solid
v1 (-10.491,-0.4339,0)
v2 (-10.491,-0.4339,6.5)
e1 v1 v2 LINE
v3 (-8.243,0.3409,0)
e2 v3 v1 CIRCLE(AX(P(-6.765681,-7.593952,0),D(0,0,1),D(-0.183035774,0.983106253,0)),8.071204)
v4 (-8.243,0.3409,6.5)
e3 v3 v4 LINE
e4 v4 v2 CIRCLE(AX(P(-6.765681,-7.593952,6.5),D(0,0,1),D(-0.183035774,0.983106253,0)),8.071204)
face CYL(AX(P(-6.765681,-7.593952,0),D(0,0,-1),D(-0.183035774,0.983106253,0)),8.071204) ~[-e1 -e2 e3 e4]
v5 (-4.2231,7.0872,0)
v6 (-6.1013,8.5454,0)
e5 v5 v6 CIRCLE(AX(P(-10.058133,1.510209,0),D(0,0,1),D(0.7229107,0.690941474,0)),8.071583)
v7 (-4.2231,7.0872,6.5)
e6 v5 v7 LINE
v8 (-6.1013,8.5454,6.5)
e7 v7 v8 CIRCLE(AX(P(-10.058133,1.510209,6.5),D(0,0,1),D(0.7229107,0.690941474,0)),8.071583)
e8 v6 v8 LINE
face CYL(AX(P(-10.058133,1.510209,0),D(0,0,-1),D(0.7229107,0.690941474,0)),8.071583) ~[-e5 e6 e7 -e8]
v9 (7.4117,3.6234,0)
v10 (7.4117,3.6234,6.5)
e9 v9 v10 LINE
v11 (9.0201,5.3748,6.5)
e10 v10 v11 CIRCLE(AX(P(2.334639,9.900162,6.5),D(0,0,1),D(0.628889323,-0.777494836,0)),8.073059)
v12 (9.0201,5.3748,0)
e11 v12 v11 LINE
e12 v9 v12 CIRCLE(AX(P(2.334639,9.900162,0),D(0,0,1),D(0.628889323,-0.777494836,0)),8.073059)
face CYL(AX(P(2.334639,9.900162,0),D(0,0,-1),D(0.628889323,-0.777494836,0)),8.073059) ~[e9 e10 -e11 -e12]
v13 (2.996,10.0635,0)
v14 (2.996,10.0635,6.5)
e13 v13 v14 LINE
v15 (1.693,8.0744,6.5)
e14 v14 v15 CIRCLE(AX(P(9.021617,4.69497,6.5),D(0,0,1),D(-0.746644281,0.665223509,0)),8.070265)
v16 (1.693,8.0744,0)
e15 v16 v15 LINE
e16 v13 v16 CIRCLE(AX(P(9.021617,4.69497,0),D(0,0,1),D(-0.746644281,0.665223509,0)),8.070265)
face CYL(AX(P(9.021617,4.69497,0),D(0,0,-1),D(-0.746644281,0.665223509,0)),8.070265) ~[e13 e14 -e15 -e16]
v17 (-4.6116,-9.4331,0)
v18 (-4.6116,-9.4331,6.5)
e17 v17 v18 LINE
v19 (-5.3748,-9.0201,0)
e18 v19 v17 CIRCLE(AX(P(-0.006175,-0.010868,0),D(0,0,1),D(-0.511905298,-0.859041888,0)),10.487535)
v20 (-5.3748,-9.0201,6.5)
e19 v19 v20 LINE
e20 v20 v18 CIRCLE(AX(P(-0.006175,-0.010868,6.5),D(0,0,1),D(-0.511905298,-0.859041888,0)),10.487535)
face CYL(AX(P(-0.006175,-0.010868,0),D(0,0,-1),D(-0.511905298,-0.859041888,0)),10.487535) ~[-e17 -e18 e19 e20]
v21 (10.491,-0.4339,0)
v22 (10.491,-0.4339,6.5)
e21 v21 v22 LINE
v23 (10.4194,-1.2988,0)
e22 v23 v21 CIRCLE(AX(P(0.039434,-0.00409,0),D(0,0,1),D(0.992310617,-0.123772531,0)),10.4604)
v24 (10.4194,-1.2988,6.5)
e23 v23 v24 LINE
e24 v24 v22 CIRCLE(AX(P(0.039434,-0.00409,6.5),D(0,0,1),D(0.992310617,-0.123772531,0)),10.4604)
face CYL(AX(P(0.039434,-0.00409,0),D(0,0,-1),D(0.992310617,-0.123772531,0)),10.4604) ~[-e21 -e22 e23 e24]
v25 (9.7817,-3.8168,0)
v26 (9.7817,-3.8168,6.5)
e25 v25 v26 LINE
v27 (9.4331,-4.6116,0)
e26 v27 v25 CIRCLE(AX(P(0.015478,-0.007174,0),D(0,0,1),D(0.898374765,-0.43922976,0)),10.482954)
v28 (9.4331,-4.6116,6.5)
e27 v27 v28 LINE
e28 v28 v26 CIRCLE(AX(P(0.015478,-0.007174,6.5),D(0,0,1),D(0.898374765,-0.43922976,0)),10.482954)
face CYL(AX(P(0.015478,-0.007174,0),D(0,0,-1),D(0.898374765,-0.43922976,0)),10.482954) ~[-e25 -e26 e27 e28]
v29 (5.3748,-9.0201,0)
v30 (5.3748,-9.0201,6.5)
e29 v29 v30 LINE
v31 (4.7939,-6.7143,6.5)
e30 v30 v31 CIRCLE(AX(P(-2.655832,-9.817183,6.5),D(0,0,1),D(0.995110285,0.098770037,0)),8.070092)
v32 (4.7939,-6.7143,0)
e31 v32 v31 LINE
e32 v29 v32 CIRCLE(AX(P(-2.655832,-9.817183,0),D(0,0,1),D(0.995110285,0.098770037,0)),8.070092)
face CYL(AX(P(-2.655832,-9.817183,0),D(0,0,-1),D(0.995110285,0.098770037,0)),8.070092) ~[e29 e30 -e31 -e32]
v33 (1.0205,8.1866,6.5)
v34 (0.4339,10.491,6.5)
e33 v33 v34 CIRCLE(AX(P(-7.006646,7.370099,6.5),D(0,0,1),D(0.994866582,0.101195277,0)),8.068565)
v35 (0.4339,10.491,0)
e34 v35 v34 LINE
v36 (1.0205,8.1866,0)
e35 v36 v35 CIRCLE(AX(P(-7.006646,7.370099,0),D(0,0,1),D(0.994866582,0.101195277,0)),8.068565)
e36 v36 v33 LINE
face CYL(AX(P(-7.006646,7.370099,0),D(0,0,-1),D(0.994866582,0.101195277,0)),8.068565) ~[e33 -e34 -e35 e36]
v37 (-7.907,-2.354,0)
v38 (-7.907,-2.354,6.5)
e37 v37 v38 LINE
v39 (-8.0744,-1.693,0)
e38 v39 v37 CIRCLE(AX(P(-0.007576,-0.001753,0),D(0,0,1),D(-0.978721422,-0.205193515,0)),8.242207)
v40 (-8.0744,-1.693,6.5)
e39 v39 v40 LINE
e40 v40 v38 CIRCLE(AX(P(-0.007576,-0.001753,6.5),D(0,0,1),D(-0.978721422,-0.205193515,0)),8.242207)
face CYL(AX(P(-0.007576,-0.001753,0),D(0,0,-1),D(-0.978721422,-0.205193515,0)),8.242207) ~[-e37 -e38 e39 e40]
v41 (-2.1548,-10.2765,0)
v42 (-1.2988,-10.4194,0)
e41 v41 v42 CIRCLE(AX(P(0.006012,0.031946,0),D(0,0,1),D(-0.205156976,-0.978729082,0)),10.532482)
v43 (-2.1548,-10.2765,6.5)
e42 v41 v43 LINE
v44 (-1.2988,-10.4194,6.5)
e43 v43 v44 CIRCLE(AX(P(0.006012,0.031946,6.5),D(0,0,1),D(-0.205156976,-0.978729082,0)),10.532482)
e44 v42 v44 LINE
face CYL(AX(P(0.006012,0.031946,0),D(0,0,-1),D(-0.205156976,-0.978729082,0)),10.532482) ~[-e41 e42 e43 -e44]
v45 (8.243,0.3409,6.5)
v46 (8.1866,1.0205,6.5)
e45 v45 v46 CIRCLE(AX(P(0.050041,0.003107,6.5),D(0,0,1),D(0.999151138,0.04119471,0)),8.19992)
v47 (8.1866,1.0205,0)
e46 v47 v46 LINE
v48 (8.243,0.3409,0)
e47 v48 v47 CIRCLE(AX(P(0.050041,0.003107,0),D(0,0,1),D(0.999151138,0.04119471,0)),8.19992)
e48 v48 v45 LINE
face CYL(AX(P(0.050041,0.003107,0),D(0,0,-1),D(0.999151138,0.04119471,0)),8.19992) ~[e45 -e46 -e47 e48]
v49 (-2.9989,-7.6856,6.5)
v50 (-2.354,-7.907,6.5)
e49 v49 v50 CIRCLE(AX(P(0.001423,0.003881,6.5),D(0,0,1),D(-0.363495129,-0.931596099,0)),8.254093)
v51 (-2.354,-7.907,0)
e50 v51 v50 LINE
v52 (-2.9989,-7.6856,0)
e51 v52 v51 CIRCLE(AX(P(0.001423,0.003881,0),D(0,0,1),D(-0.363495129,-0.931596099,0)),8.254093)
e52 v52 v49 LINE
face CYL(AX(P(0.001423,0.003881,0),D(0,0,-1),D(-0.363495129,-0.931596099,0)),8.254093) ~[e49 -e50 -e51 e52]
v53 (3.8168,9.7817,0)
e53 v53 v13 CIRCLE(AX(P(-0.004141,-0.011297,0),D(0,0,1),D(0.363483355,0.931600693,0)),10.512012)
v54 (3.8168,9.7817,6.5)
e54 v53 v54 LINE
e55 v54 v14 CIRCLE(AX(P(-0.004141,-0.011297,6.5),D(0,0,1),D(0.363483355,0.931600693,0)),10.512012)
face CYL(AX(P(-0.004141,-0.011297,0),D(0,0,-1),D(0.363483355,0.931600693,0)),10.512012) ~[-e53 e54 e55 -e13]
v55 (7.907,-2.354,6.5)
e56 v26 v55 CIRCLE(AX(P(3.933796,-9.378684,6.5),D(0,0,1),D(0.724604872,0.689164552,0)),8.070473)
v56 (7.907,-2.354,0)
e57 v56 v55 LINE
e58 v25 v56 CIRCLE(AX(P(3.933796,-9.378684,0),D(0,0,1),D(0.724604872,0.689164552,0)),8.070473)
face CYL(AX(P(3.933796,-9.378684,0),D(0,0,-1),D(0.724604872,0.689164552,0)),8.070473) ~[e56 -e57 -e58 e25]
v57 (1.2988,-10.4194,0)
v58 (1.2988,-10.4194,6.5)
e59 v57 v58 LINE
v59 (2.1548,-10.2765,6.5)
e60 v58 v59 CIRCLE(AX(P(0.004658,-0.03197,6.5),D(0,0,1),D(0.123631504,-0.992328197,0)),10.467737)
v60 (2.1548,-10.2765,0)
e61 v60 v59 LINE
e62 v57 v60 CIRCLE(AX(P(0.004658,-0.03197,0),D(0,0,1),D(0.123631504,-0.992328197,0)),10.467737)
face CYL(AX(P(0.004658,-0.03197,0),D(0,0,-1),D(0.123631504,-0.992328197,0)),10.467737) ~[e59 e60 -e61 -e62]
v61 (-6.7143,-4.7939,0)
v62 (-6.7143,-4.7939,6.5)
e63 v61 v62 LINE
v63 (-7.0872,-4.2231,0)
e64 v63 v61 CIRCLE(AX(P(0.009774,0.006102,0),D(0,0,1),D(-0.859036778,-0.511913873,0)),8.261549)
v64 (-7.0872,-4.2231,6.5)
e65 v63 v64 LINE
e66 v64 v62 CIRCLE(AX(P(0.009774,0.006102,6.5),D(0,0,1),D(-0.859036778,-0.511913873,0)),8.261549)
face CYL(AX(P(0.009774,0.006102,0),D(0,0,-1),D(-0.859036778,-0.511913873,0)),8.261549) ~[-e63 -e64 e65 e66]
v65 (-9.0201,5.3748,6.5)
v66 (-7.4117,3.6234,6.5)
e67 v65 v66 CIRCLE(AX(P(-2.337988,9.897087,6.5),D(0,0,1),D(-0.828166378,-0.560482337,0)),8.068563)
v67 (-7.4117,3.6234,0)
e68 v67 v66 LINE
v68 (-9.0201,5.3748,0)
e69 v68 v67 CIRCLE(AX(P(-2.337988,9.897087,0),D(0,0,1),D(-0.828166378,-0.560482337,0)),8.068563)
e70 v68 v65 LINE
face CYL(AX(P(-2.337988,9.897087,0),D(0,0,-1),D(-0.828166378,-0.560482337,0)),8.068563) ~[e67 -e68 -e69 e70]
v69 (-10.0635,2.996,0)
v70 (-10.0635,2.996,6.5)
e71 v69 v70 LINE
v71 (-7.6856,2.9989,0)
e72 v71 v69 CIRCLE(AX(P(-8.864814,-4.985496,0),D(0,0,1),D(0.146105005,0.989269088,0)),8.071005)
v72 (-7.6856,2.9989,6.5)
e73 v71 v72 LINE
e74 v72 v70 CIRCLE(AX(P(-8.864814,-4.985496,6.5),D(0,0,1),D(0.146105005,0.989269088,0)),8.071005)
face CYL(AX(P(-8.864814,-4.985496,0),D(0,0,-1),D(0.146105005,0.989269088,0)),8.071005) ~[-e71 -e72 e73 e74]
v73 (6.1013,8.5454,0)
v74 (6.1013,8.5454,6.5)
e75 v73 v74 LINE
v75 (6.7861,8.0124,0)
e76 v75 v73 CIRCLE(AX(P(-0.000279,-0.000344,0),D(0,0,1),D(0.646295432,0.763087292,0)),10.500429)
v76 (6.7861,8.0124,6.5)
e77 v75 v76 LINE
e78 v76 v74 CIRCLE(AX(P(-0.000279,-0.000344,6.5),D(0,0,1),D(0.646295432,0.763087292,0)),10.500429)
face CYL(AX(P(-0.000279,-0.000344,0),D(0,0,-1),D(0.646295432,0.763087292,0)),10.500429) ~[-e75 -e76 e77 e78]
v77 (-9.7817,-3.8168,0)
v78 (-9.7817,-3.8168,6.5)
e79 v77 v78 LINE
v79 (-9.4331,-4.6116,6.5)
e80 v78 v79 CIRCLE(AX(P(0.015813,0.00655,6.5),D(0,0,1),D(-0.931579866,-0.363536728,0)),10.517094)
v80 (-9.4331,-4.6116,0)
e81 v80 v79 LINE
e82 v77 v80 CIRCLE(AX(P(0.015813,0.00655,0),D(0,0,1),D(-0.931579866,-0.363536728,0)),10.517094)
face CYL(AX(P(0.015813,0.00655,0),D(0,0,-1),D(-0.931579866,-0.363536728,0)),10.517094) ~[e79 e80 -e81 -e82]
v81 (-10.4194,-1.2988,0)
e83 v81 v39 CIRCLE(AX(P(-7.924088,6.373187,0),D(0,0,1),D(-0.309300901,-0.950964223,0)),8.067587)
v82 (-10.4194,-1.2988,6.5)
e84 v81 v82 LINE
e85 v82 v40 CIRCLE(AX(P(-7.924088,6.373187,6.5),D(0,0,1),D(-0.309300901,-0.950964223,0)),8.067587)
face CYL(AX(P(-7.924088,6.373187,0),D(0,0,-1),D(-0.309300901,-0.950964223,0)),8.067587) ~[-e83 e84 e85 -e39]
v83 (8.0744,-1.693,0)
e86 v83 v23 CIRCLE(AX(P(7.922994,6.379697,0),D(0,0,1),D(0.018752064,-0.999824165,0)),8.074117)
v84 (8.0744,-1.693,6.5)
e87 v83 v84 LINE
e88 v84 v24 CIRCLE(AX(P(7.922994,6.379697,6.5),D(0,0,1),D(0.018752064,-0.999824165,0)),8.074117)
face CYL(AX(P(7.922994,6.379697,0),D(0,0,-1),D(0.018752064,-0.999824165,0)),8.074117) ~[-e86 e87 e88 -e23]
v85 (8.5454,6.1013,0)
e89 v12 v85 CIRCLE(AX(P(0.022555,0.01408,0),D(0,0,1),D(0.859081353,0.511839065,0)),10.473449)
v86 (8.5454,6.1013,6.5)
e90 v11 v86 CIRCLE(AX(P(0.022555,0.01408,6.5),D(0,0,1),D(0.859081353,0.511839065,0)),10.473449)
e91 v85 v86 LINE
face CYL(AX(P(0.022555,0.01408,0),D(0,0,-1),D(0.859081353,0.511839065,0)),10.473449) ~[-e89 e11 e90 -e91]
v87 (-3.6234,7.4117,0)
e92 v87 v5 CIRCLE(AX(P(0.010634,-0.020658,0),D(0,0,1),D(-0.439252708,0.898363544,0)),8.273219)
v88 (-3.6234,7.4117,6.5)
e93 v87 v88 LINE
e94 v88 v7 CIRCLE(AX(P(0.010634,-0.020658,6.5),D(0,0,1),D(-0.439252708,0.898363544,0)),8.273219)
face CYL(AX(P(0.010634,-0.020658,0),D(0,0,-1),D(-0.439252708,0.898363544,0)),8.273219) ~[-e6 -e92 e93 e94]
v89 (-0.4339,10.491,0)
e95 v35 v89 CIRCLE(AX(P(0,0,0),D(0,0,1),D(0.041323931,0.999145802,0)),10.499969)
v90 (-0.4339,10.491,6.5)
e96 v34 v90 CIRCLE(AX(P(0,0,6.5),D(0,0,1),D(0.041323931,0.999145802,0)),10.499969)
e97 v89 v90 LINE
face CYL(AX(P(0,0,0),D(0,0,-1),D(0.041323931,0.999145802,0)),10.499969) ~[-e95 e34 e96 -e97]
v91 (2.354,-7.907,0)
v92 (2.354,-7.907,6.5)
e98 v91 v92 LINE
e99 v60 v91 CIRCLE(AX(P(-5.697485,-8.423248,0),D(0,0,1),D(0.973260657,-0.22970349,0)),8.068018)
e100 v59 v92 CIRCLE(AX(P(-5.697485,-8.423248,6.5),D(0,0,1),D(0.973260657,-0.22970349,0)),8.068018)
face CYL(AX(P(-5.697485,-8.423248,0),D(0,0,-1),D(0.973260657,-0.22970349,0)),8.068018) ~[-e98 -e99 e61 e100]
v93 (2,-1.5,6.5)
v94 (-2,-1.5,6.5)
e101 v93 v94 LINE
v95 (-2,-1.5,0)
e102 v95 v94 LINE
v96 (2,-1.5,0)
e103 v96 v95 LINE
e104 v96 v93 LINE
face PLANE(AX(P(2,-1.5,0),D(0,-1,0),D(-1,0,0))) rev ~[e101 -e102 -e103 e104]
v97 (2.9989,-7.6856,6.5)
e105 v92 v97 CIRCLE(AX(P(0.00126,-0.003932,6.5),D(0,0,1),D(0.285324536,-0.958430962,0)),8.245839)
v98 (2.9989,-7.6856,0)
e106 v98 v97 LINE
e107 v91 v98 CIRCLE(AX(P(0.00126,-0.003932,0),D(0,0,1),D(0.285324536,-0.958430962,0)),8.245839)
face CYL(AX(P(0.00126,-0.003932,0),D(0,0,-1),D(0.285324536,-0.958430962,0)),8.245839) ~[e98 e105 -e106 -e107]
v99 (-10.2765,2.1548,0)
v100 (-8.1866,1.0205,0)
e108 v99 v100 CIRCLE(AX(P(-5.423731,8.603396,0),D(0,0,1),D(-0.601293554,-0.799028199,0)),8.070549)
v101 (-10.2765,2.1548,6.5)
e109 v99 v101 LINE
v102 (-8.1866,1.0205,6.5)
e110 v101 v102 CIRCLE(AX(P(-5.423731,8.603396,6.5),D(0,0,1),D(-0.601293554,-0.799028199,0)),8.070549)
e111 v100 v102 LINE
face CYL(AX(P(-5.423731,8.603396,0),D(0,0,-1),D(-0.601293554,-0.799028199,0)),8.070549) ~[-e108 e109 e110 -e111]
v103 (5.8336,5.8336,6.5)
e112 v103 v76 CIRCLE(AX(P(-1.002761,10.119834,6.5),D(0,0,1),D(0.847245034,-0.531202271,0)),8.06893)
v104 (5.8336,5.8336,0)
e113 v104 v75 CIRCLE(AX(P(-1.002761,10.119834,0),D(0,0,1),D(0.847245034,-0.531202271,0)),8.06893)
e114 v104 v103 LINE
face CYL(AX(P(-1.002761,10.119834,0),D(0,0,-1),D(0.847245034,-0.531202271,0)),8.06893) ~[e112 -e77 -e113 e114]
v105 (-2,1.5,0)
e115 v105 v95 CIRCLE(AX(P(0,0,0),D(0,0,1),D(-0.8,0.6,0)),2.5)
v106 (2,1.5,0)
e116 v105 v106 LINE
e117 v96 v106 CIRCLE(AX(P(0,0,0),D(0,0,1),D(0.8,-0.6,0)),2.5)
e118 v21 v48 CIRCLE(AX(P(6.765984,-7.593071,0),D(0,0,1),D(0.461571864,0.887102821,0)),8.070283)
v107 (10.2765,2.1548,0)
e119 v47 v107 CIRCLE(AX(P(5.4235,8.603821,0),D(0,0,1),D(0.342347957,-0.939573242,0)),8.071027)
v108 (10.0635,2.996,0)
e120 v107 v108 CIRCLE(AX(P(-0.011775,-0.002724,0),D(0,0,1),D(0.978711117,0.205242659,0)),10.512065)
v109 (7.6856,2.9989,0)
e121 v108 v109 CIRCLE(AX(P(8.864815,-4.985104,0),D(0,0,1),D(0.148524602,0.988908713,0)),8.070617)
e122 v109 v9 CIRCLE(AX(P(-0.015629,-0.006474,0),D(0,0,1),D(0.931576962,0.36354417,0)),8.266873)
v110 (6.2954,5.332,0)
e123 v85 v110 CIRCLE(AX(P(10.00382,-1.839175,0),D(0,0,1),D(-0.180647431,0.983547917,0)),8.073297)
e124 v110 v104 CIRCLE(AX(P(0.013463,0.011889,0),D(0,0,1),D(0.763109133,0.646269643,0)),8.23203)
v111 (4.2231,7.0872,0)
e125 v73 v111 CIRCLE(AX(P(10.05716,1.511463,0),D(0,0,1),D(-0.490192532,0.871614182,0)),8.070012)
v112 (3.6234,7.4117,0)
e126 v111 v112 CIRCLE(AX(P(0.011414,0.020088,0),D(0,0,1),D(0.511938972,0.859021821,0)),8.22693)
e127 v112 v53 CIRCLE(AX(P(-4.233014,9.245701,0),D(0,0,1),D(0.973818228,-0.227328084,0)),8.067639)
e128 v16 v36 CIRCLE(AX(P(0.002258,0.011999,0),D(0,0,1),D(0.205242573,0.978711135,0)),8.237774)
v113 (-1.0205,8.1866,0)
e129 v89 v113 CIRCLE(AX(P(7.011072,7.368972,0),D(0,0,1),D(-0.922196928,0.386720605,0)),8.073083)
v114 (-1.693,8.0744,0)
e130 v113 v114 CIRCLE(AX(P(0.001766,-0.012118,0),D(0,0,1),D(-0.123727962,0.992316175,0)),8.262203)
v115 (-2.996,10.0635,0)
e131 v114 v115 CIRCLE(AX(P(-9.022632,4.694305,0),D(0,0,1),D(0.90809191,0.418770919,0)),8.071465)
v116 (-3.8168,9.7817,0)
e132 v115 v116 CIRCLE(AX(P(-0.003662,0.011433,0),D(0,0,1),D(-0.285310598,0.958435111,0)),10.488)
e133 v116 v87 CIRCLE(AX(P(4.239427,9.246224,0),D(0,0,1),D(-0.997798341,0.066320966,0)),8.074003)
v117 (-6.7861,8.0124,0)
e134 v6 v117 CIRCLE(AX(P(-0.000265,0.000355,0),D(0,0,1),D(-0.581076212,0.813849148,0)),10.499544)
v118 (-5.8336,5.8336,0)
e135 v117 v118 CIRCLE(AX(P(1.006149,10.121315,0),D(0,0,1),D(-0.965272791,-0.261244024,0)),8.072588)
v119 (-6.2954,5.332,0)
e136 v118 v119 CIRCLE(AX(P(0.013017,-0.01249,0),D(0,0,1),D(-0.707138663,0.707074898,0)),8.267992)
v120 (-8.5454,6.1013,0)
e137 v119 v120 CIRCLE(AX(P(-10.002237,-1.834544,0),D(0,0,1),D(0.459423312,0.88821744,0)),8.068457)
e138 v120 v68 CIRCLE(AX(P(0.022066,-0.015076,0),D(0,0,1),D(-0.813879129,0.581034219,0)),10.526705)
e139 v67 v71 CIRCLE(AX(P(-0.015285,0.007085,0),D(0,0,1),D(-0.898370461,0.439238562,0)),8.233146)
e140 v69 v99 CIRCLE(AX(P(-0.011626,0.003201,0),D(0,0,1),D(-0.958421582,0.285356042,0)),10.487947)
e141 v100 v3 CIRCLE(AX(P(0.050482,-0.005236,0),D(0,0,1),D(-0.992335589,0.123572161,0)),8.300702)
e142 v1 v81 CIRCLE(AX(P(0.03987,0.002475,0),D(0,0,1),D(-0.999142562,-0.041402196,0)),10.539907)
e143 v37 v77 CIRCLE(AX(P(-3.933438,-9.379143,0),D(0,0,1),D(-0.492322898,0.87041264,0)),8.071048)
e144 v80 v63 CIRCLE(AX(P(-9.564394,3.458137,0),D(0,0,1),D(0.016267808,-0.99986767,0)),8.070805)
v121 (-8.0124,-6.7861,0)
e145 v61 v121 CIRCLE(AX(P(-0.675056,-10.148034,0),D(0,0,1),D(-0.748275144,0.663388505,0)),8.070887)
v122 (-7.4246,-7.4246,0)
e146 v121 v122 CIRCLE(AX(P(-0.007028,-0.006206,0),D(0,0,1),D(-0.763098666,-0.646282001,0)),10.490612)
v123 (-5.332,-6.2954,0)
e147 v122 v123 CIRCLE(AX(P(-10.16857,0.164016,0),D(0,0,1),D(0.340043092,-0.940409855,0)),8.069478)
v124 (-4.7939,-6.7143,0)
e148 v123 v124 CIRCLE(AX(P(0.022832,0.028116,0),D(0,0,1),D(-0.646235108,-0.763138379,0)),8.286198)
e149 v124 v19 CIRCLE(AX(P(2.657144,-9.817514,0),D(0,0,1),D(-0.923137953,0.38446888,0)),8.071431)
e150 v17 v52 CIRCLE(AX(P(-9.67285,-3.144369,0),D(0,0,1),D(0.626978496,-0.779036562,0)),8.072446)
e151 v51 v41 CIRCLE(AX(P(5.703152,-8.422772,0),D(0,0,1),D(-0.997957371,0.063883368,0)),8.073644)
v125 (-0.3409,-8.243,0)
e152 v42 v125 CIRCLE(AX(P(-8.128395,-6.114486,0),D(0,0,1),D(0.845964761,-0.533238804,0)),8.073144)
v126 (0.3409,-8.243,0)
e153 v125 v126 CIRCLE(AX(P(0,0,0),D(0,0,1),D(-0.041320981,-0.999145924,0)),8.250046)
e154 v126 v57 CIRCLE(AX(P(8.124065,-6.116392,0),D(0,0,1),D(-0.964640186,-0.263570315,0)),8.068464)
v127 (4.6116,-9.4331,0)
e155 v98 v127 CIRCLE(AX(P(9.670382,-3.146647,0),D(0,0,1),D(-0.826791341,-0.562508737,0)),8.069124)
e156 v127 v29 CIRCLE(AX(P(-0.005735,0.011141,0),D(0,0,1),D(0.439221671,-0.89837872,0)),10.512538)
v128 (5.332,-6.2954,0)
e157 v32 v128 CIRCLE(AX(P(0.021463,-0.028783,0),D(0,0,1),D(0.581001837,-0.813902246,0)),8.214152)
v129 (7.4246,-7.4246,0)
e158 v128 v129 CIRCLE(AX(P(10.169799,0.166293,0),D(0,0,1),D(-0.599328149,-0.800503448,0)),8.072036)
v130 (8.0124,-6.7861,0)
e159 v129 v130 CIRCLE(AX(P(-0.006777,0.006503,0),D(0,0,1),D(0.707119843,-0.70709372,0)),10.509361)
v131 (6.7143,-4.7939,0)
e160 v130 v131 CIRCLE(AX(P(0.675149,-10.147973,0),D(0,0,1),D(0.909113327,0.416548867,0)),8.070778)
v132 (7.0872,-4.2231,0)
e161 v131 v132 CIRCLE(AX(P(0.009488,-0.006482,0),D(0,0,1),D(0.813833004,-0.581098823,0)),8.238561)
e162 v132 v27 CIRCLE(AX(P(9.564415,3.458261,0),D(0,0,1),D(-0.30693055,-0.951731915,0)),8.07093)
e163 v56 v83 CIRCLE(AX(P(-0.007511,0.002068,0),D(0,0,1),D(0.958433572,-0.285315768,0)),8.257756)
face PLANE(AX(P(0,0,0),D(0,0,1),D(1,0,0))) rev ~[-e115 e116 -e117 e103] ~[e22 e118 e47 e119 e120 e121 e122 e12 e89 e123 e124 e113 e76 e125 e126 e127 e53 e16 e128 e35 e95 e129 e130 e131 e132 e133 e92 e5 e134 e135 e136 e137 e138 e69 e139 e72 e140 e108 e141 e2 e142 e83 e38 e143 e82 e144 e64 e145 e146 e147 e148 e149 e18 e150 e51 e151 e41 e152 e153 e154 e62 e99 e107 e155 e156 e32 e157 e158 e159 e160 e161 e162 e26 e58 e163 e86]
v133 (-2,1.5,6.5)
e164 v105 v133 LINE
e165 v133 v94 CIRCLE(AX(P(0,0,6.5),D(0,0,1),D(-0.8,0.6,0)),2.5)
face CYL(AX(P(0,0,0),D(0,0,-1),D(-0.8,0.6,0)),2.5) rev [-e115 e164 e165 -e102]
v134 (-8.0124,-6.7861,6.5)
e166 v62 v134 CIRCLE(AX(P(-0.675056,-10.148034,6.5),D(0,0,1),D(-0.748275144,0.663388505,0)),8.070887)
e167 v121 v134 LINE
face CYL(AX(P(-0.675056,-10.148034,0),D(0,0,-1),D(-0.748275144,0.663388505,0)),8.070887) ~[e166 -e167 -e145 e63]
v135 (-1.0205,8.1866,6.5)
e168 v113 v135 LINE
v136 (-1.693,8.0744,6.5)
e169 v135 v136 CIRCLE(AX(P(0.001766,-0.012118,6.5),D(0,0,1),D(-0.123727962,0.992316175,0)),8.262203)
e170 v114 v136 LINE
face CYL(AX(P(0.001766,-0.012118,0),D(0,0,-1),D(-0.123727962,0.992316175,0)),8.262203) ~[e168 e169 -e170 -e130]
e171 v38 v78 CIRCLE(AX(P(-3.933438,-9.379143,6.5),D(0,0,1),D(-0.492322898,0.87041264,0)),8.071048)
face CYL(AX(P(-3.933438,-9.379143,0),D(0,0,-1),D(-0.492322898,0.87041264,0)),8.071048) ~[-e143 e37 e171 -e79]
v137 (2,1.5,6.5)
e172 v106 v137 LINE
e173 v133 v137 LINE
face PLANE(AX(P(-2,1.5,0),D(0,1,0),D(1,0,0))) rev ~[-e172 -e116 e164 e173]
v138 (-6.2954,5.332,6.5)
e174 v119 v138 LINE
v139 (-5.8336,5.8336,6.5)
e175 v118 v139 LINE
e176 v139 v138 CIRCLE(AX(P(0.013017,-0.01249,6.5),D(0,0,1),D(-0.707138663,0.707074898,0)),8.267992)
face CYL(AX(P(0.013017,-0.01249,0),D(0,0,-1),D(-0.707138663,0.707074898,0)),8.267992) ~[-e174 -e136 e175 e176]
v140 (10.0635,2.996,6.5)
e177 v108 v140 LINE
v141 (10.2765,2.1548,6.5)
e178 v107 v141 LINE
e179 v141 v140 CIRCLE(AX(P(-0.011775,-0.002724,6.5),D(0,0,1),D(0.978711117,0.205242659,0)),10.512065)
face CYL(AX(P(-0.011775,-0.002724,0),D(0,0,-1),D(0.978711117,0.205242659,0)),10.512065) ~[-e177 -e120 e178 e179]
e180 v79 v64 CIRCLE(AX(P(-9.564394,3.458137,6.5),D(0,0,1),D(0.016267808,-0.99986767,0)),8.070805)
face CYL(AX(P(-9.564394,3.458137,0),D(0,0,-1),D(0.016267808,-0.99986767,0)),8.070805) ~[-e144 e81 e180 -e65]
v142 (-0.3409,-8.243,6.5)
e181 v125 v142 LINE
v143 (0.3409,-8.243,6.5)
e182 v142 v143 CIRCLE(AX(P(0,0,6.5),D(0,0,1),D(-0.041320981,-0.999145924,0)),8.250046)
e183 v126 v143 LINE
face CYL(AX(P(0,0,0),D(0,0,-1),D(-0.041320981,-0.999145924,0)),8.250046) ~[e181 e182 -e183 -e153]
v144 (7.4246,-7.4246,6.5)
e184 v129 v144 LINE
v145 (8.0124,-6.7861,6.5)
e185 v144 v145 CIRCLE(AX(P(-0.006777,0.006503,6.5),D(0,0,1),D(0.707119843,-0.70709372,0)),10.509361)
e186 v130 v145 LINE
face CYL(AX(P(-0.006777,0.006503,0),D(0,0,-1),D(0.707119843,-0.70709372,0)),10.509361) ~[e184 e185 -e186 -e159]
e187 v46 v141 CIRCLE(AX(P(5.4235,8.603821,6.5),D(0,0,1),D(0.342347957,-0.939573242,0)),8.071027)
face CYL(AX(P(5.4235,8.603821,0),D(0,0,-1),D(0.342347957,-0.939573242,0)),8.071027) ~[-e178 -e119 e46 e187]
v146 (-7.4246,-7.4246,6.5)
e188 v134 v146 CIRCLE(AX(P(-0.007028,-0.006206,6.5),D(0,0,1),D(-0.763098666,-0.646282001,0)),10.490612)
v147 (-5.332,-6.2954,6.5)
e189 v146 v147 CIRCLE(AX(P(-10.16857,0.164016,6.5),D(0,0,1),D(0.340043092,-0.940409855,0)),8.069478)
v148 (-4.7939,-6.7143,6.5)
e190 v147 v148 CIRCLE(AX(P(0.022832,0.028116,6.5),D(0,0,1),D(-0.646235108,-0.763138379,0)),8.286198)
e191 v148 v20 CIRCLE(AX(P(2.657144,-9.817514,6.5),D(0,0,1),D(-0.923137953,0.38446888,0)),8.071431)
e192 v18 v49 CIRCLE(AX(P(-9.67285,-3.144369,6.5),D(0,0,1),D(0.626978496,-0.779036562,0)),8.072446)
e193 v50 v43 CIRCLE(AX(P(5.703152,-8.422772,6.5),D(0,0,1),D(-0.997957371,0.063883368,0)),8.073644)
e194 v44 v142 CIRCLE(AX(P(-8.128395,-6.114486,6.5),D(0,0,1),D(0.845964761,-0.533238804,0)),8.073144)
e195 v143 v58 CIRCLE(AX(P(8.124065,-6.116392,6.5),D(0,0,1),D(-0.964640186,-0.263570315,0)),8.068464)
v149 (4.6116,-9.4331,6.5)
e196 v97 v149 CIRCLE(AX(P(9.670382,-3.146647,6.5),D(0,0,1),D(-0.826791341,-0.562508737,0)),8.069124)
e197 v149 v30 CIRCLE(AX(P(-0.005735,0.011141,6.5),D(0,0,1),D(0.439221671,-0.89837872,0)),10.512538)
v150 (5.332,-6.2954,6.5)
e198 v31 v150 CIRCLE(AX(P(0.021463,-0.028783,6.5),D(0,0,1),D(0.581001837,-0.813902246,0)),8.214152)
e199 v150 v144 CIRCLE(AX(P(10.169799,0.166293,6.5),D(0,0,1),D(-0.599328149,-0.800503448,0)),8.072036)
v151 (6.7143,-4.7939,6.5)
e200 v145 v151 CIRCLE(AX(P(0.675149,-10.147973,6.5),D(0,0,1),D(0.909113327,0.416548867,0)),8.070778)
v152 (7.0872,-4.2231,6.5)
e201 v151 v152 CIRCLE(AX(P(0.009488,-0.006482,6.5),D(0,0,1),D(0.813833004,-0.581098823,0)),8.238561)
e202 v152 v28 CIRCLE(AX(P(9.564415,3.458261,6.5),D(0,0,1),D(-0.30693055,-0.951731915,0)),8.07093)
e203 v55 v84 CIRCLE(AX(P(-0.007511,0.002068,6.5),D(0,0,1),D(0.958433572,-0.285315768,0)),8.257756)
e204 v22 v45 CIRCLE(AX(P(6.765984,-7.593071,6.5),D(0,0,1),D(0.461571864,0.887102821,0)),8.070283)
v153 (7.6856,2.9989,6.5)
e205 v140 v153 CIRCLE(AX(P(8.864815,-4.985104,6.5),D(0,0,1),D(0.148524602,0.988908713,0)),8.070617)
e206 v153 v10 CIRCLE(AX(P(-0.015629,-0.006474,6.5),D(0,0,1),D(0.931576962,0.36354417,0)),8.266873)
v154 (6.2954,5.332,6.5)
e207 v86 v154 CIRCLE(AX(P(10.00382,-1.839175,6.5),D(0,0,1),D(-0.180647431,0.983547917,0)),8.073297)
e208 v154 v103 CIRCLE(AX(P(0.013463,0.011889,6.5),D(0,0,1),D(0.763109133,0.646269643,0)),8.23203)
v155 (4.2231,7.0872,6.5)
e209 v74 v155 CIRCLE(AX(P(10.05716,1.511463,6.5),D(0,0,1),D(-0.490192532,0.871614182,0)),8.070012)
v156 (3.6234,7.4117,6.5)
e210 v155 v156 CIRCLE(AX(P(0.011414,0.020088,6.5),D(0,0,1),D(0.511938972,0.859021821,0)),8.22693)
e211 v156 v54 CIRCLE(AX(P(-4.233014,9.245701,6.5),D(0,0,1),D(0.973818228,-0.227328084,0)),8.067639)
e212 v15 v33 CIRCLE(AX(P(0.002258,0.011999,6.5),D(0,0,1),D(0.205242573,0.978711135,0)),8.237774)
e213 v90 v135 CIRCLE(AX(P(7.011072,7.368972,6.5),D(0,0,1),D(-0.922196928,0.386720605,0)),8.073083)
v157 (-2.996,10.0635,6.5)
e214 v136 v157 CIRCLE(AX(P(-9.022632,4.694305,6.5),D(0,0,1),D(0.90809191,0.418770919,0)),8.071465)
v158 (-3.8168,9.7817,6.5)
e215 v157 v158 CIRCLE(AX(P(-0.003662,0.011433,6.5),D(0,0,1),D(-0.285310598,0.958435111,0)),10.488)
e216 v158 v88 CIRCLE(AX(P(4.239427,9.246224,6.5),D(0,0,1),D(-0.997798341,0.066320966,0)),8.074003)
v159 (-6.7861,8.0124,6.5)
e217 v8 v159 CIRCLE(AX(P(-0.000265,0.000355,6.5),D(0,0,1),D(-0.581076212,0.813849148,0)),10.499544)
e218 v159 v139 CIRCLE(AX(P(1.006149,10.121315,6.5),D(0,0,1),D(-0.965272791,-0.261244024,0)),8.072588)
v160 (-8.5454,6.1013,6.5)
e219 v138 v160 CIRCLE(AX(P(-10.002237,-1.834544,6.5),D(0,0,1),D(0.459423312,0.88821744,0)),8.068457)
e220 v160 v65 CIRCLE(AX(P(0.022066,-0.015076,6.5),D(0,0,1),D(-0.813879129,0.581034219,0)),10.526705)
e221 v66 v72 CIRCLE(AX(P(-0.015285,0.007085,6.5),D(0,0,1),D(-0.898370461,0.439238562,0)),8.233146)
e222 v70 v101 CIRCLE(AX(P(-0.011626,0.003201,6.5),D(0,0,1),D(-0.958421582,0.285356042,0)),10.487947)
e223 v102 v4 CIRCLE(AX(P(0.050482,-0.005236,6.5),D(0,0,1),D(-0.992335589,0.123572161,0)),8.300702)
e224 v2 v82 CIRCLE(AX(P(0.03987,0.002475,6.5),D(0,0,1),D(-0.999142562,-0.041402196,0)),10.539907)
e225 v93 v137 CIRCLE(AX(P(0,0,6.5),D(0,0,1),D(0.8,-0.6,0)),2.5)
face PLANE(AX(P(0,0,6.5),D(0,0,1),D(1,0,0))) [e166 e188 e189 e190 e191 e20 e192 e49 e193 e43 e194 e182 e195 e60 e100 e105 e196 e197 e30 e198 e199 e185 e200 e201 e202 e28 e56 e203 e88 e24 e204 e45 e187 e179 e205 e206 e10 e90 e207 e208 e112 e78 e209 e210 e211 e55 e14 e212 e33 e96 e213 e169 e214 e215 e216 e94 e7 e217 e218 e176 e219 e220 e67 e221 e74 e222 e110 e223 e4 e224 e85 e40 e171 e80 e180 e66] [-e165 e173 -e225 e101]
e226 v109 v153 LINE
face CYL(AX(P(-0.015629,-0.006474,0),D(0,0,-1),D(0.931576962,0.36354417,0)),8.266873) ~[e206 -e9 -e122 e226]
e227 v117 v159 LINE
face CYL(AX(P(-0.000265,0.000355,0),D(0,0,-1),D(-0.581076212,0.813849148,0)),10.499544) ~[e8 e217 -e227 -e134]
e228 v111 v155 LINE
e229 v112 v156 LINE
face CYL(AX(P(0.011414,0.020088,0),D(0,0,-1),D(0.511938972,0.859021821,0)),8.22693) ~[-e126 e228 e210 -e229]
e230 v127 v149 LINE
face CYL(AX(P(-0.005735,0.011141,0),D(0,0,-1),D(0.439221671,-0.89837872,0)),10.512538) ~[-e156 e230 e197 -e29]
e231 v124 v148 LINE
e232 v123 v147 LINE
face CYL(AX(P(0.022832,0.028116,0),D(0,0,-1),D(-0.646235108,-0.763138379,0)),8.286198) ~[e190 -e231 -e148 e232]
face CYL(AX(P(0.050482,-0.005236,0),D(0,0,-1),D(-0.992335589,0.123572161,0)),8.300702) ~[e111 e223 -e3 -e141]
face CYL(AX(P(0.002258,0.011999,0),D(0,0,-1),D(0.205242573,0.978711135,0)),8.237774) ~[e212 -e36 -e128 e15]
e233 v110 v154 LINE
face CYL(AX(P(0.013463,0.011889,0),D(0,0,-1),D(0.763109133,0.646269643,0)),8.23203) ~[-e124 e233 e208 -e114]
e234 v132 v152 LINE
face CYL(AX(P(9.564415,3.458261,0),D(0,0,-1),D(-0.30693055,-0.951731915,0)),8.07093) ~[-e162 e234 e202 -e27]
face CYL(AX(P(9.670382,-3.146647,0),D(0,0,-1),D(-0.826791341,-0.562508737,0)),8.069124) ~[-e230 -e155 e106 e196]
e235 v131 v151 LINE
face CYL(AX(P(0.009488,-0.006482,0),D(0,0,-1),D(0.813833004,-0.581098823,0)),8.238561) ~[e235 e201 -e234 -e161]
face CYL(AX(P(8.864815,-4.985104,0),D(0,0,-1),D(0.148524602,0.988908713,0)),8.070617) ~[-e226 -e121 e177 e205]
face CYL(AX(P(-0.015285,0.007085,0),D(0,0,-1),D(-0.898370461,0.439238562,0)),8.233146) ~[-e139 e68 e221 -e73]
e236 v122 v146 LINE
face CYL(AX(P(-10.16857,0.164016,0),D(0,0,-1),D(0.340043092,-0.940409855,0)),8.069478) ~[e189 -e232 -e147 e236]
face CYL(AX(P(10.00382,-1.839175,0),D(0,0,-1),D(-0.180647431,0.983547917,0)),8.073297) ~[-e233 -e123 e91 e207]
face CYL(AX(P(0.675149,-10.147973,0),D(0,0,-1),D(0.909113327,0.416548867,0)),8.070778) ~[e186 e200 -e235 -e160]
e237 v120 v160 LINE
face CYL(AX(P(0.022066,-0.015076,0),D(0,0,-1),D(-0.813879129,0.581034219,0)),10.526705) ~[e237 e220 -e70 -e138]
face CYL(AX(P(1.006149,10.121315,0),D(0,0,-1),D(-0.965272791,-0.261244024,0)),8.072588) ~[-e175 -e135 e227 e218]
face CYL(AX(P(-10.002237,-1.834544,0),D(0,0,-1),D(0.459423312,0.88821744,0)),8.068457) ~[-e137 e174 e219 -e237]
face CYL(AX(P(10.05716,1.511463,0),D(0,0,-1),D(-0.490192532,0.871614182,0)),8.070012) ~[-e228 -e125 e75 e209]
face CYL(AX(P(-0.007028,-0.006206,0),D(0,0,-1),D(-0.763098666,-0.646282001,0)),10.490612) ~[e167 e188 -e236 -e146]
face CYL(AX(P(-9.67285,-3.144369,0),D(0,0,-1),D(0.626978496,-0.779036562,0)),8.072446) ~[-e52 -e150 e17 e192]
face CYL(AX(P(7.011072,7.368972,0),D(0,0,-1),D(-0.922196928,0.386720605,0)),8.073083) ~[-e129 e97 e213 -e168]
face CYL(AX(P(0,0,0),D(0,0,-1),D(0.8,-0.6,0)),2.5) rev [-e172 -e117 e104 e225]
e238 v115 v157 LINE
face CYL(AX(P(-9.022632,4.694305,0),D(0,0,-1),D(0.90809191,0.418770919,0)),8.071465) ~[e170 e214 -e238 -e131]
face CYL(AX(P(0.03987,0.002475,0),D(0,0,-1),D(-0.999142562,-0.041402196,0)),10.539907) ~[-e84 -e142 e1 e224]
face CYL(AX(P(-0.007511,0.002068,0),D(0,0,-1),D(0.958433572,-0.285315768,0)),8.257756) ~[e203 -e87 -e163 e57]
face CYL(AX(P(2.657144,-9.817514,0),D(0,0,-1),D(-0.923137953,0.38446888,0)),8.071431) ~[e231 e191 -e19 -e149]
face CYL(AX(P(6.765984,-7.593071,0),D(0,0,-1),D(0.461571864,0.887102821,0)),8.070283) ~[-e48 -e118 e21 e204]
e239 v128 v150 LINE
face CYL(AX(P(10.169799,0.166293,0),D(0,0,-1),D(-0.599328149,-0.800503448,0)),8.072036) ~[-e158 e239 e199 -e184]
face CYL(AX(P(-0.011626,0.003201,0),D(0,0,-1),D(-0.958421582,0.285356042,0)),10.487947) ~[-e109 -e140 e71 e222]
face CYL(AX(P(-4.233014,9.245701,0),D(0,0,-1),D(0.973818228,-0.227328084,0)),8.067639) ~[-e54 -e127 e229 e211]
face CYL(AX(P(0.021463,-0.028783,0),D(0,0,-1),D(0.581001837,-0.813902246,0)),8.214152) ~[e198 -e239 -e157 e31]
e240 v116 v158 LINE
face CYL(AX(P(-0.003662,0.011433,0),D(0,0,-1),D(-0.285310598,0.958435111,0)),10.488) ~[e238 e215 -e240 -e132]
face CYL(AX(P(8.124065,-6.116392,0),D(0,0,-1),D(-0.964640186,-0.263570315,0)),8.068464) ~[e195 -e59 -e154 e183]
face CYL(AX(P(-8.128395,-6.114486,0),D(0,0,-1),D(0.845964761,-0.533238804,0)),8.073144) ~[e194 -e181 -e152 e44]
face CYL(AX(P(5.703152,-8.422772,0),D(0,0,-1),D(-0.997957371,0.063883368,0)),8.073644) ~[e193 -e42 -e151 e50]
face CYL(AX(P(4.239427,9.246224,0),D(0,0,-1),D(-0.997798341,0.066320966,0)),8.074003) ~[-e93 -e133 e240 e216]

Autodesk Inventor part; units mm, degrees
ref_plane "YZ Plane" through (0, 0, 0) normal (1, 0, 0) x (0, 1, 0)
ref_plane "XZ Plane" through (0, 0, 0) normal (0, 1, 0) x (-1, 0, 0)
ref_plane "XY Plane" through (0, 0, 0) normal (0, 0, 1) x (1, 0, 0)
sketch "スケッチ1" plane through (0, 0, 0) normal (0, 0, 1) x (1, 0, 0)
  arc A0 (-3.8168, 9.7817) -> (-3.6234, 7.4117) centre (4.2362, 9.2462) ccw
  arc A1 (-3.6234, 7.4117) -> (-4.2231, 7.0872) centre (0, 0) ccw
  arc A2 (-4.2231, 7.0872) -> (-6.1013, 8.5454) centre (-10.0576, 1.5108) ccw
  arc A3 (-6.1013, 8.5454) -> (-6.7861, 8.0124) centre (0, 0) ccw
  arc A4 (-6.7861, 8.0124) -> (-5.8336, 5.8336) centre (1.0044, 10.1207) ccw
  arc A5 (-5.8336, 5.8336) -> (-6.2954, 5.332) centre (0, 0) ccw
  arc A6 (-6.2954, 5.332) -> (-8.5454, 6.1013) centre (-10.0032, -1.8368) ccw
  arc A7 (-8.5454, 6.1013) -> (-9.0201, 5.3748) centre (0, 0) ccw
  arc A8 (-9.0201, 5.3748) -> (-7.4117, 3.6234) centre (-2.3362, 9.8985) ccw
  arc A9 (-7.4117, 3.6234) -> (-7.6856, 2.9989) centre (0, 0) ccw
  arc A10 (-7.6856, 2.9989) -> (-10.0635, 2.996) centre (-8.8648, -4.9853) ccw
  arc A11 (-10.0635, 2.996) -> (-10.2765, 2.1548) centre (0, 0) ccw
  arc A12 (-10.2765, 2.1548) -> (-8.1866, 1.0205) centre (-5.4236, 8.6036) ccw
  arc A13 (-8.1866, 1.0205) -> (-8.243, 0.3409) centre (0, 0) ccw
  arc A14 (-8.243, 0.3409) -> (-10.491, -0.4339) centre (-6.7658, -7.5935) ccw
  arc A15 (-10.491, -0.4339) -> (-10.4194, -1.2988) centre (0, 0) ccw
  arc A16 (-10.4194, -1.2988) -> (-8.0744, -1.693) centre (-7.9233, 6.3764) ccw
  arc A17 (-8.0744, -1.693) -> (-7.907, -2.354) centre (0, 0) ccw
  arc A18 (-7.907, -2.354) -> (-9.7817, -3.8168) centre (-3.9336, -9.3789) ccw
  arc A19 (-9.7817, -3.8168) -> (-9.4331, -4.6116) centre (0, 0) ccw
  arc A20 (-9.4331, -4.6116) -> (-7.0872, -4.2231) centre (-9.5644, 3.4582) ccw
  arc A21 (-7.0872, -4.2231) -> (-6.7143, -4.7939) centre (0, 0) ccw
  arc A22 (-6.7143, -4.7939) -> (-8.0124, -6.7861) centre (-0.6751, -10.148) ccw
  arc A23 (-8.0124, -6.7861) -> (-7.4246, -7.4246) centre (0, 0) ccw
  arc A24 (-7.4246, -7.4246) -> (-5.332, -6.2954) centre (-10.1691, 0.1652) ccw
  arc A25 (-5.332, -6.2954) -> (-4.7939, -6.7143) centre (0, 0) ccw
  arc A26 (-4.7939, -6.7143) -> (-5.3748, -9.0201) centre (2.6565, -9.8173) ccw
  arc A27 (-5.3748, -9.0201) -> (-4.6116, -9.4331) centre (0, 0) ccw
  arc A28 (-4.6116, -9.4331) -> (-2.9989, -7.6856) centre (-9.6717, -3.1456) ccw
  arc A29 (-2.9989, -7.6856) -> (-2.354, -7.907) centre (0, 0) ccw
  arc A30 (-2.354, -7.907) -> (-2.1548, -10.2765) centre (5.7003, -8.4228) ccw
  arc A31 (-2.1548, -10.2765) -> (-1.2988, -10.4194) centre (0, 0) ccw
  arc A32 (-1.2988, -10.4194) -> (-0.3409, -8.243) centre (-8.1263, -6.1156) ccw
  arc A33 (-0.3409, -8.243) -> (0.3409, -8.243) centre (0, 0) ccw
  arc A34 (0.3409, -8.243) -> (1.2988, -10.4194) centre (8.1263, -6.1156) ccw
  arc A35 (1.2988, -10.4194) -> (2.1548, -10.2765) centre (0, 0) ccw
  arc A36 (2.1548, -10.2765) -> (2.354, -7.907) centre (-5.7003, -8.4228) ccw
  arc A37 (2.354, -7.907) -> (2.9989, -7.6856) centre (0, 0) ccw
  arc A38 (2.9989, -7.6856) -> (4.6116, -9.4331) centre (9.6717, -3.1456) ccw
  arc A39 (4.6116, -9.4331) -> (5.3748, -9.0201) centre (0, 0) ccw
  arc A40 (5.3748, -9.0201) -> (4.7939, -6.7143) centre (-2.6565, -9.8173) ccw
  arc A41 (4.7939, -6.7143) -> (5.332, -6.2954) centre (0, 0) ccw
  arc A42 (5.332, -6.2954) -> (7.4246, -7.4246) centre (10.1691, 0.1652) ccw
  arc A43 (7.4246, -7.4246) -> (8.0124, -6.7861) centre (0, 0) ccw
  arc A44 (8.0124, -6.7861) -> (6.7143, -4.7939) centre (0.6751, -10.148) ccw
  arc A45 (6.7143, -4.7939) -> (7.0872, -4.2231) centre (0, 0) ccw
  arc A46 (7.0872, -4.2231) -> (9.4331, -4.6116) centre (9.5644, 3.4582) ccw
  arc A47 (9.4331, -4.6116) -> (9.7817, -3.8168) centre (0, 0) ccw
  arc A48 (9.7817, -3.8168) -> (7.907, -2.354) centre (3.9336, -9.3789) ccw
  arc A49 (7.907, -2.354) -> (8.0744, -1.693) centre (0, 0) ccw
  arc A50 (8.0744, -1.693) -> (10.4194, -1.2988) centre (7.9233, 6.3764) ccw
  arc A51 (10.4194, -1.2988) -> (10.491, -0.4339) centre (0, 0) ccw
  arc A52 (10.491, -0.4339) -> (8.243, 0.3409) centre (6.7658, -7.5935) ccw
  arc A53 (8.243, 0.3409) -> (8.1866, 1.0205) centre (0, 0) ccw
  arc A54 (8.1866, 1.0205) -> (10.2765, 2.1548) centre (5.4236, 8.6036) ccw
  arc A55 (10.2765, 2.1548) -> (10.0635, 2.996) centre (0, 0) ccw
  arc A56 (10.0635, 2.996) -> (7.6856, 2.9989) centre (8.8648, -4.9853) ccw
  arc A57 (7.6856, 2.9989) -> (7.4117, 3.6234) centre (0, 0) ccw
  arc A58 (7.4117, 3.6234) -> (9.0201, 5.3748) centre (2.3362, 9.8985) ccw
  arc A59 (9.0201, 5.3748) -> (8.5454, 6.1013) centre (0, 0) ccw
  arc A60 (8.5454, 6.1013) -> (6.2954, 5.332) centre (10.0032, -1.8368) ccw
  arc A61 (6.2954, 5.332) -> (5.8336, 5.8336) centre (0, 0) ccw
  arc A62 (5.8336, 5.8336) -> (6.7861, 8.0124) centre (-1.0044, 10.1207) ccw
  arc A63 (6.7861, 8.0124) -> (6.1013, 8.5454) centre (0, 0) ccw
  arc A64 (6.1013, 8.5454) -> (4.2231, 7.0872) centre (10.0576, 1.5108) ccw
  arc A65 (4.2231, 7.0872) -> (3.6234, 7.4117) centre (0, 0) ccw
  arc A66 (3.6234, 7.4117) -> (3.8168, 9.7817) centre (-4.2362, 9.2462) ccw
  arc A67 (3.8168, 9.7817) -> (2.996, 10.0635) centre (0, 0) ccw
  arc A68 (2.996, 10.0635) -> (1.693, 8.0744) centre (9.0221, 4.6946) ccw
  arc A69 (1.693, 8.0744) -> (1.0205, 8.1866) centre (0, 0) ccw
  arc A70 (1.0205, 8.1866) -> (0.4339, 10.491) centre (-7.0089, 7.3697) ccw
  arc A71 (0.4339, 10.491) -> (-0.4339, 10.491) centre (0, 0) ccw
  arc A72 (-0.4339, 10.491) -> (-1.0205, 8.1866) centre (7.0089, 7.3697) ccw
  arc A73 (-1.0205, 8.1866) -> (-1.693, 8.0744) centre (0, 0) ccw
  arc A74 (-1.693, 8.0744) -> (-2.996, 10.0635) centre (-9.0221, 4.6946) ccw
  arc A75 (-2.996, 10.0635) -> (-3.8168, 9.7817) centre (0, 0) ccw
  line L0 (-2, 1.5) -> (2, 1.5)
  line L1 (2, -1.5) -> (-2, -1.5)
  arc A76 (2, -1.5) -> (2, 1.5) centre (0, 0) ccw
  arc A77 (-2, 1.5) -> (-2, -1.5) centre (0, 0) ccw
  point P0 (0, 0)
  point P1 (0, 0)
  point P2 (0, 0)
  point P3 (0, 0)
  point P4 (0, 0)
  point P5 (0, 0)
  point P6 (0, 0)
  point P7 (0, 0)
  point P8 (0, 0)
  point P9 (0, 0)
  point P10 (0, 0)
  point P11 (0, 0)
  point P12 (0, 0)
  point P13 (0, 0)
  point P14 (0, 0)
  point P15 (0, 0)
  point P16 (0, 0)
  point P17 (0, 0)
  point P18 (0, 0)
  point P19 (0, 0)
  point P20 (0, 0)
  point P21 (0, 0)
  point P22 (0, 0)
  point P23 (0, 0)
  point P24 (0, 0)
  point P25 (0, 0)
  point P26 (0, 0)
  point P27 (0, 0)
  point P28 (0, 0)
  point P29 (0, 0)
  point P30 (0, 0)
  point P31 (0, 0)
  point P32 (0, 0)
  point P33 (0, 0)
  point P34 (0, 0)
extrude "押し出し1" add sketch "スケッチ1" along normal blind 6.5
properties part number "Gear19"
